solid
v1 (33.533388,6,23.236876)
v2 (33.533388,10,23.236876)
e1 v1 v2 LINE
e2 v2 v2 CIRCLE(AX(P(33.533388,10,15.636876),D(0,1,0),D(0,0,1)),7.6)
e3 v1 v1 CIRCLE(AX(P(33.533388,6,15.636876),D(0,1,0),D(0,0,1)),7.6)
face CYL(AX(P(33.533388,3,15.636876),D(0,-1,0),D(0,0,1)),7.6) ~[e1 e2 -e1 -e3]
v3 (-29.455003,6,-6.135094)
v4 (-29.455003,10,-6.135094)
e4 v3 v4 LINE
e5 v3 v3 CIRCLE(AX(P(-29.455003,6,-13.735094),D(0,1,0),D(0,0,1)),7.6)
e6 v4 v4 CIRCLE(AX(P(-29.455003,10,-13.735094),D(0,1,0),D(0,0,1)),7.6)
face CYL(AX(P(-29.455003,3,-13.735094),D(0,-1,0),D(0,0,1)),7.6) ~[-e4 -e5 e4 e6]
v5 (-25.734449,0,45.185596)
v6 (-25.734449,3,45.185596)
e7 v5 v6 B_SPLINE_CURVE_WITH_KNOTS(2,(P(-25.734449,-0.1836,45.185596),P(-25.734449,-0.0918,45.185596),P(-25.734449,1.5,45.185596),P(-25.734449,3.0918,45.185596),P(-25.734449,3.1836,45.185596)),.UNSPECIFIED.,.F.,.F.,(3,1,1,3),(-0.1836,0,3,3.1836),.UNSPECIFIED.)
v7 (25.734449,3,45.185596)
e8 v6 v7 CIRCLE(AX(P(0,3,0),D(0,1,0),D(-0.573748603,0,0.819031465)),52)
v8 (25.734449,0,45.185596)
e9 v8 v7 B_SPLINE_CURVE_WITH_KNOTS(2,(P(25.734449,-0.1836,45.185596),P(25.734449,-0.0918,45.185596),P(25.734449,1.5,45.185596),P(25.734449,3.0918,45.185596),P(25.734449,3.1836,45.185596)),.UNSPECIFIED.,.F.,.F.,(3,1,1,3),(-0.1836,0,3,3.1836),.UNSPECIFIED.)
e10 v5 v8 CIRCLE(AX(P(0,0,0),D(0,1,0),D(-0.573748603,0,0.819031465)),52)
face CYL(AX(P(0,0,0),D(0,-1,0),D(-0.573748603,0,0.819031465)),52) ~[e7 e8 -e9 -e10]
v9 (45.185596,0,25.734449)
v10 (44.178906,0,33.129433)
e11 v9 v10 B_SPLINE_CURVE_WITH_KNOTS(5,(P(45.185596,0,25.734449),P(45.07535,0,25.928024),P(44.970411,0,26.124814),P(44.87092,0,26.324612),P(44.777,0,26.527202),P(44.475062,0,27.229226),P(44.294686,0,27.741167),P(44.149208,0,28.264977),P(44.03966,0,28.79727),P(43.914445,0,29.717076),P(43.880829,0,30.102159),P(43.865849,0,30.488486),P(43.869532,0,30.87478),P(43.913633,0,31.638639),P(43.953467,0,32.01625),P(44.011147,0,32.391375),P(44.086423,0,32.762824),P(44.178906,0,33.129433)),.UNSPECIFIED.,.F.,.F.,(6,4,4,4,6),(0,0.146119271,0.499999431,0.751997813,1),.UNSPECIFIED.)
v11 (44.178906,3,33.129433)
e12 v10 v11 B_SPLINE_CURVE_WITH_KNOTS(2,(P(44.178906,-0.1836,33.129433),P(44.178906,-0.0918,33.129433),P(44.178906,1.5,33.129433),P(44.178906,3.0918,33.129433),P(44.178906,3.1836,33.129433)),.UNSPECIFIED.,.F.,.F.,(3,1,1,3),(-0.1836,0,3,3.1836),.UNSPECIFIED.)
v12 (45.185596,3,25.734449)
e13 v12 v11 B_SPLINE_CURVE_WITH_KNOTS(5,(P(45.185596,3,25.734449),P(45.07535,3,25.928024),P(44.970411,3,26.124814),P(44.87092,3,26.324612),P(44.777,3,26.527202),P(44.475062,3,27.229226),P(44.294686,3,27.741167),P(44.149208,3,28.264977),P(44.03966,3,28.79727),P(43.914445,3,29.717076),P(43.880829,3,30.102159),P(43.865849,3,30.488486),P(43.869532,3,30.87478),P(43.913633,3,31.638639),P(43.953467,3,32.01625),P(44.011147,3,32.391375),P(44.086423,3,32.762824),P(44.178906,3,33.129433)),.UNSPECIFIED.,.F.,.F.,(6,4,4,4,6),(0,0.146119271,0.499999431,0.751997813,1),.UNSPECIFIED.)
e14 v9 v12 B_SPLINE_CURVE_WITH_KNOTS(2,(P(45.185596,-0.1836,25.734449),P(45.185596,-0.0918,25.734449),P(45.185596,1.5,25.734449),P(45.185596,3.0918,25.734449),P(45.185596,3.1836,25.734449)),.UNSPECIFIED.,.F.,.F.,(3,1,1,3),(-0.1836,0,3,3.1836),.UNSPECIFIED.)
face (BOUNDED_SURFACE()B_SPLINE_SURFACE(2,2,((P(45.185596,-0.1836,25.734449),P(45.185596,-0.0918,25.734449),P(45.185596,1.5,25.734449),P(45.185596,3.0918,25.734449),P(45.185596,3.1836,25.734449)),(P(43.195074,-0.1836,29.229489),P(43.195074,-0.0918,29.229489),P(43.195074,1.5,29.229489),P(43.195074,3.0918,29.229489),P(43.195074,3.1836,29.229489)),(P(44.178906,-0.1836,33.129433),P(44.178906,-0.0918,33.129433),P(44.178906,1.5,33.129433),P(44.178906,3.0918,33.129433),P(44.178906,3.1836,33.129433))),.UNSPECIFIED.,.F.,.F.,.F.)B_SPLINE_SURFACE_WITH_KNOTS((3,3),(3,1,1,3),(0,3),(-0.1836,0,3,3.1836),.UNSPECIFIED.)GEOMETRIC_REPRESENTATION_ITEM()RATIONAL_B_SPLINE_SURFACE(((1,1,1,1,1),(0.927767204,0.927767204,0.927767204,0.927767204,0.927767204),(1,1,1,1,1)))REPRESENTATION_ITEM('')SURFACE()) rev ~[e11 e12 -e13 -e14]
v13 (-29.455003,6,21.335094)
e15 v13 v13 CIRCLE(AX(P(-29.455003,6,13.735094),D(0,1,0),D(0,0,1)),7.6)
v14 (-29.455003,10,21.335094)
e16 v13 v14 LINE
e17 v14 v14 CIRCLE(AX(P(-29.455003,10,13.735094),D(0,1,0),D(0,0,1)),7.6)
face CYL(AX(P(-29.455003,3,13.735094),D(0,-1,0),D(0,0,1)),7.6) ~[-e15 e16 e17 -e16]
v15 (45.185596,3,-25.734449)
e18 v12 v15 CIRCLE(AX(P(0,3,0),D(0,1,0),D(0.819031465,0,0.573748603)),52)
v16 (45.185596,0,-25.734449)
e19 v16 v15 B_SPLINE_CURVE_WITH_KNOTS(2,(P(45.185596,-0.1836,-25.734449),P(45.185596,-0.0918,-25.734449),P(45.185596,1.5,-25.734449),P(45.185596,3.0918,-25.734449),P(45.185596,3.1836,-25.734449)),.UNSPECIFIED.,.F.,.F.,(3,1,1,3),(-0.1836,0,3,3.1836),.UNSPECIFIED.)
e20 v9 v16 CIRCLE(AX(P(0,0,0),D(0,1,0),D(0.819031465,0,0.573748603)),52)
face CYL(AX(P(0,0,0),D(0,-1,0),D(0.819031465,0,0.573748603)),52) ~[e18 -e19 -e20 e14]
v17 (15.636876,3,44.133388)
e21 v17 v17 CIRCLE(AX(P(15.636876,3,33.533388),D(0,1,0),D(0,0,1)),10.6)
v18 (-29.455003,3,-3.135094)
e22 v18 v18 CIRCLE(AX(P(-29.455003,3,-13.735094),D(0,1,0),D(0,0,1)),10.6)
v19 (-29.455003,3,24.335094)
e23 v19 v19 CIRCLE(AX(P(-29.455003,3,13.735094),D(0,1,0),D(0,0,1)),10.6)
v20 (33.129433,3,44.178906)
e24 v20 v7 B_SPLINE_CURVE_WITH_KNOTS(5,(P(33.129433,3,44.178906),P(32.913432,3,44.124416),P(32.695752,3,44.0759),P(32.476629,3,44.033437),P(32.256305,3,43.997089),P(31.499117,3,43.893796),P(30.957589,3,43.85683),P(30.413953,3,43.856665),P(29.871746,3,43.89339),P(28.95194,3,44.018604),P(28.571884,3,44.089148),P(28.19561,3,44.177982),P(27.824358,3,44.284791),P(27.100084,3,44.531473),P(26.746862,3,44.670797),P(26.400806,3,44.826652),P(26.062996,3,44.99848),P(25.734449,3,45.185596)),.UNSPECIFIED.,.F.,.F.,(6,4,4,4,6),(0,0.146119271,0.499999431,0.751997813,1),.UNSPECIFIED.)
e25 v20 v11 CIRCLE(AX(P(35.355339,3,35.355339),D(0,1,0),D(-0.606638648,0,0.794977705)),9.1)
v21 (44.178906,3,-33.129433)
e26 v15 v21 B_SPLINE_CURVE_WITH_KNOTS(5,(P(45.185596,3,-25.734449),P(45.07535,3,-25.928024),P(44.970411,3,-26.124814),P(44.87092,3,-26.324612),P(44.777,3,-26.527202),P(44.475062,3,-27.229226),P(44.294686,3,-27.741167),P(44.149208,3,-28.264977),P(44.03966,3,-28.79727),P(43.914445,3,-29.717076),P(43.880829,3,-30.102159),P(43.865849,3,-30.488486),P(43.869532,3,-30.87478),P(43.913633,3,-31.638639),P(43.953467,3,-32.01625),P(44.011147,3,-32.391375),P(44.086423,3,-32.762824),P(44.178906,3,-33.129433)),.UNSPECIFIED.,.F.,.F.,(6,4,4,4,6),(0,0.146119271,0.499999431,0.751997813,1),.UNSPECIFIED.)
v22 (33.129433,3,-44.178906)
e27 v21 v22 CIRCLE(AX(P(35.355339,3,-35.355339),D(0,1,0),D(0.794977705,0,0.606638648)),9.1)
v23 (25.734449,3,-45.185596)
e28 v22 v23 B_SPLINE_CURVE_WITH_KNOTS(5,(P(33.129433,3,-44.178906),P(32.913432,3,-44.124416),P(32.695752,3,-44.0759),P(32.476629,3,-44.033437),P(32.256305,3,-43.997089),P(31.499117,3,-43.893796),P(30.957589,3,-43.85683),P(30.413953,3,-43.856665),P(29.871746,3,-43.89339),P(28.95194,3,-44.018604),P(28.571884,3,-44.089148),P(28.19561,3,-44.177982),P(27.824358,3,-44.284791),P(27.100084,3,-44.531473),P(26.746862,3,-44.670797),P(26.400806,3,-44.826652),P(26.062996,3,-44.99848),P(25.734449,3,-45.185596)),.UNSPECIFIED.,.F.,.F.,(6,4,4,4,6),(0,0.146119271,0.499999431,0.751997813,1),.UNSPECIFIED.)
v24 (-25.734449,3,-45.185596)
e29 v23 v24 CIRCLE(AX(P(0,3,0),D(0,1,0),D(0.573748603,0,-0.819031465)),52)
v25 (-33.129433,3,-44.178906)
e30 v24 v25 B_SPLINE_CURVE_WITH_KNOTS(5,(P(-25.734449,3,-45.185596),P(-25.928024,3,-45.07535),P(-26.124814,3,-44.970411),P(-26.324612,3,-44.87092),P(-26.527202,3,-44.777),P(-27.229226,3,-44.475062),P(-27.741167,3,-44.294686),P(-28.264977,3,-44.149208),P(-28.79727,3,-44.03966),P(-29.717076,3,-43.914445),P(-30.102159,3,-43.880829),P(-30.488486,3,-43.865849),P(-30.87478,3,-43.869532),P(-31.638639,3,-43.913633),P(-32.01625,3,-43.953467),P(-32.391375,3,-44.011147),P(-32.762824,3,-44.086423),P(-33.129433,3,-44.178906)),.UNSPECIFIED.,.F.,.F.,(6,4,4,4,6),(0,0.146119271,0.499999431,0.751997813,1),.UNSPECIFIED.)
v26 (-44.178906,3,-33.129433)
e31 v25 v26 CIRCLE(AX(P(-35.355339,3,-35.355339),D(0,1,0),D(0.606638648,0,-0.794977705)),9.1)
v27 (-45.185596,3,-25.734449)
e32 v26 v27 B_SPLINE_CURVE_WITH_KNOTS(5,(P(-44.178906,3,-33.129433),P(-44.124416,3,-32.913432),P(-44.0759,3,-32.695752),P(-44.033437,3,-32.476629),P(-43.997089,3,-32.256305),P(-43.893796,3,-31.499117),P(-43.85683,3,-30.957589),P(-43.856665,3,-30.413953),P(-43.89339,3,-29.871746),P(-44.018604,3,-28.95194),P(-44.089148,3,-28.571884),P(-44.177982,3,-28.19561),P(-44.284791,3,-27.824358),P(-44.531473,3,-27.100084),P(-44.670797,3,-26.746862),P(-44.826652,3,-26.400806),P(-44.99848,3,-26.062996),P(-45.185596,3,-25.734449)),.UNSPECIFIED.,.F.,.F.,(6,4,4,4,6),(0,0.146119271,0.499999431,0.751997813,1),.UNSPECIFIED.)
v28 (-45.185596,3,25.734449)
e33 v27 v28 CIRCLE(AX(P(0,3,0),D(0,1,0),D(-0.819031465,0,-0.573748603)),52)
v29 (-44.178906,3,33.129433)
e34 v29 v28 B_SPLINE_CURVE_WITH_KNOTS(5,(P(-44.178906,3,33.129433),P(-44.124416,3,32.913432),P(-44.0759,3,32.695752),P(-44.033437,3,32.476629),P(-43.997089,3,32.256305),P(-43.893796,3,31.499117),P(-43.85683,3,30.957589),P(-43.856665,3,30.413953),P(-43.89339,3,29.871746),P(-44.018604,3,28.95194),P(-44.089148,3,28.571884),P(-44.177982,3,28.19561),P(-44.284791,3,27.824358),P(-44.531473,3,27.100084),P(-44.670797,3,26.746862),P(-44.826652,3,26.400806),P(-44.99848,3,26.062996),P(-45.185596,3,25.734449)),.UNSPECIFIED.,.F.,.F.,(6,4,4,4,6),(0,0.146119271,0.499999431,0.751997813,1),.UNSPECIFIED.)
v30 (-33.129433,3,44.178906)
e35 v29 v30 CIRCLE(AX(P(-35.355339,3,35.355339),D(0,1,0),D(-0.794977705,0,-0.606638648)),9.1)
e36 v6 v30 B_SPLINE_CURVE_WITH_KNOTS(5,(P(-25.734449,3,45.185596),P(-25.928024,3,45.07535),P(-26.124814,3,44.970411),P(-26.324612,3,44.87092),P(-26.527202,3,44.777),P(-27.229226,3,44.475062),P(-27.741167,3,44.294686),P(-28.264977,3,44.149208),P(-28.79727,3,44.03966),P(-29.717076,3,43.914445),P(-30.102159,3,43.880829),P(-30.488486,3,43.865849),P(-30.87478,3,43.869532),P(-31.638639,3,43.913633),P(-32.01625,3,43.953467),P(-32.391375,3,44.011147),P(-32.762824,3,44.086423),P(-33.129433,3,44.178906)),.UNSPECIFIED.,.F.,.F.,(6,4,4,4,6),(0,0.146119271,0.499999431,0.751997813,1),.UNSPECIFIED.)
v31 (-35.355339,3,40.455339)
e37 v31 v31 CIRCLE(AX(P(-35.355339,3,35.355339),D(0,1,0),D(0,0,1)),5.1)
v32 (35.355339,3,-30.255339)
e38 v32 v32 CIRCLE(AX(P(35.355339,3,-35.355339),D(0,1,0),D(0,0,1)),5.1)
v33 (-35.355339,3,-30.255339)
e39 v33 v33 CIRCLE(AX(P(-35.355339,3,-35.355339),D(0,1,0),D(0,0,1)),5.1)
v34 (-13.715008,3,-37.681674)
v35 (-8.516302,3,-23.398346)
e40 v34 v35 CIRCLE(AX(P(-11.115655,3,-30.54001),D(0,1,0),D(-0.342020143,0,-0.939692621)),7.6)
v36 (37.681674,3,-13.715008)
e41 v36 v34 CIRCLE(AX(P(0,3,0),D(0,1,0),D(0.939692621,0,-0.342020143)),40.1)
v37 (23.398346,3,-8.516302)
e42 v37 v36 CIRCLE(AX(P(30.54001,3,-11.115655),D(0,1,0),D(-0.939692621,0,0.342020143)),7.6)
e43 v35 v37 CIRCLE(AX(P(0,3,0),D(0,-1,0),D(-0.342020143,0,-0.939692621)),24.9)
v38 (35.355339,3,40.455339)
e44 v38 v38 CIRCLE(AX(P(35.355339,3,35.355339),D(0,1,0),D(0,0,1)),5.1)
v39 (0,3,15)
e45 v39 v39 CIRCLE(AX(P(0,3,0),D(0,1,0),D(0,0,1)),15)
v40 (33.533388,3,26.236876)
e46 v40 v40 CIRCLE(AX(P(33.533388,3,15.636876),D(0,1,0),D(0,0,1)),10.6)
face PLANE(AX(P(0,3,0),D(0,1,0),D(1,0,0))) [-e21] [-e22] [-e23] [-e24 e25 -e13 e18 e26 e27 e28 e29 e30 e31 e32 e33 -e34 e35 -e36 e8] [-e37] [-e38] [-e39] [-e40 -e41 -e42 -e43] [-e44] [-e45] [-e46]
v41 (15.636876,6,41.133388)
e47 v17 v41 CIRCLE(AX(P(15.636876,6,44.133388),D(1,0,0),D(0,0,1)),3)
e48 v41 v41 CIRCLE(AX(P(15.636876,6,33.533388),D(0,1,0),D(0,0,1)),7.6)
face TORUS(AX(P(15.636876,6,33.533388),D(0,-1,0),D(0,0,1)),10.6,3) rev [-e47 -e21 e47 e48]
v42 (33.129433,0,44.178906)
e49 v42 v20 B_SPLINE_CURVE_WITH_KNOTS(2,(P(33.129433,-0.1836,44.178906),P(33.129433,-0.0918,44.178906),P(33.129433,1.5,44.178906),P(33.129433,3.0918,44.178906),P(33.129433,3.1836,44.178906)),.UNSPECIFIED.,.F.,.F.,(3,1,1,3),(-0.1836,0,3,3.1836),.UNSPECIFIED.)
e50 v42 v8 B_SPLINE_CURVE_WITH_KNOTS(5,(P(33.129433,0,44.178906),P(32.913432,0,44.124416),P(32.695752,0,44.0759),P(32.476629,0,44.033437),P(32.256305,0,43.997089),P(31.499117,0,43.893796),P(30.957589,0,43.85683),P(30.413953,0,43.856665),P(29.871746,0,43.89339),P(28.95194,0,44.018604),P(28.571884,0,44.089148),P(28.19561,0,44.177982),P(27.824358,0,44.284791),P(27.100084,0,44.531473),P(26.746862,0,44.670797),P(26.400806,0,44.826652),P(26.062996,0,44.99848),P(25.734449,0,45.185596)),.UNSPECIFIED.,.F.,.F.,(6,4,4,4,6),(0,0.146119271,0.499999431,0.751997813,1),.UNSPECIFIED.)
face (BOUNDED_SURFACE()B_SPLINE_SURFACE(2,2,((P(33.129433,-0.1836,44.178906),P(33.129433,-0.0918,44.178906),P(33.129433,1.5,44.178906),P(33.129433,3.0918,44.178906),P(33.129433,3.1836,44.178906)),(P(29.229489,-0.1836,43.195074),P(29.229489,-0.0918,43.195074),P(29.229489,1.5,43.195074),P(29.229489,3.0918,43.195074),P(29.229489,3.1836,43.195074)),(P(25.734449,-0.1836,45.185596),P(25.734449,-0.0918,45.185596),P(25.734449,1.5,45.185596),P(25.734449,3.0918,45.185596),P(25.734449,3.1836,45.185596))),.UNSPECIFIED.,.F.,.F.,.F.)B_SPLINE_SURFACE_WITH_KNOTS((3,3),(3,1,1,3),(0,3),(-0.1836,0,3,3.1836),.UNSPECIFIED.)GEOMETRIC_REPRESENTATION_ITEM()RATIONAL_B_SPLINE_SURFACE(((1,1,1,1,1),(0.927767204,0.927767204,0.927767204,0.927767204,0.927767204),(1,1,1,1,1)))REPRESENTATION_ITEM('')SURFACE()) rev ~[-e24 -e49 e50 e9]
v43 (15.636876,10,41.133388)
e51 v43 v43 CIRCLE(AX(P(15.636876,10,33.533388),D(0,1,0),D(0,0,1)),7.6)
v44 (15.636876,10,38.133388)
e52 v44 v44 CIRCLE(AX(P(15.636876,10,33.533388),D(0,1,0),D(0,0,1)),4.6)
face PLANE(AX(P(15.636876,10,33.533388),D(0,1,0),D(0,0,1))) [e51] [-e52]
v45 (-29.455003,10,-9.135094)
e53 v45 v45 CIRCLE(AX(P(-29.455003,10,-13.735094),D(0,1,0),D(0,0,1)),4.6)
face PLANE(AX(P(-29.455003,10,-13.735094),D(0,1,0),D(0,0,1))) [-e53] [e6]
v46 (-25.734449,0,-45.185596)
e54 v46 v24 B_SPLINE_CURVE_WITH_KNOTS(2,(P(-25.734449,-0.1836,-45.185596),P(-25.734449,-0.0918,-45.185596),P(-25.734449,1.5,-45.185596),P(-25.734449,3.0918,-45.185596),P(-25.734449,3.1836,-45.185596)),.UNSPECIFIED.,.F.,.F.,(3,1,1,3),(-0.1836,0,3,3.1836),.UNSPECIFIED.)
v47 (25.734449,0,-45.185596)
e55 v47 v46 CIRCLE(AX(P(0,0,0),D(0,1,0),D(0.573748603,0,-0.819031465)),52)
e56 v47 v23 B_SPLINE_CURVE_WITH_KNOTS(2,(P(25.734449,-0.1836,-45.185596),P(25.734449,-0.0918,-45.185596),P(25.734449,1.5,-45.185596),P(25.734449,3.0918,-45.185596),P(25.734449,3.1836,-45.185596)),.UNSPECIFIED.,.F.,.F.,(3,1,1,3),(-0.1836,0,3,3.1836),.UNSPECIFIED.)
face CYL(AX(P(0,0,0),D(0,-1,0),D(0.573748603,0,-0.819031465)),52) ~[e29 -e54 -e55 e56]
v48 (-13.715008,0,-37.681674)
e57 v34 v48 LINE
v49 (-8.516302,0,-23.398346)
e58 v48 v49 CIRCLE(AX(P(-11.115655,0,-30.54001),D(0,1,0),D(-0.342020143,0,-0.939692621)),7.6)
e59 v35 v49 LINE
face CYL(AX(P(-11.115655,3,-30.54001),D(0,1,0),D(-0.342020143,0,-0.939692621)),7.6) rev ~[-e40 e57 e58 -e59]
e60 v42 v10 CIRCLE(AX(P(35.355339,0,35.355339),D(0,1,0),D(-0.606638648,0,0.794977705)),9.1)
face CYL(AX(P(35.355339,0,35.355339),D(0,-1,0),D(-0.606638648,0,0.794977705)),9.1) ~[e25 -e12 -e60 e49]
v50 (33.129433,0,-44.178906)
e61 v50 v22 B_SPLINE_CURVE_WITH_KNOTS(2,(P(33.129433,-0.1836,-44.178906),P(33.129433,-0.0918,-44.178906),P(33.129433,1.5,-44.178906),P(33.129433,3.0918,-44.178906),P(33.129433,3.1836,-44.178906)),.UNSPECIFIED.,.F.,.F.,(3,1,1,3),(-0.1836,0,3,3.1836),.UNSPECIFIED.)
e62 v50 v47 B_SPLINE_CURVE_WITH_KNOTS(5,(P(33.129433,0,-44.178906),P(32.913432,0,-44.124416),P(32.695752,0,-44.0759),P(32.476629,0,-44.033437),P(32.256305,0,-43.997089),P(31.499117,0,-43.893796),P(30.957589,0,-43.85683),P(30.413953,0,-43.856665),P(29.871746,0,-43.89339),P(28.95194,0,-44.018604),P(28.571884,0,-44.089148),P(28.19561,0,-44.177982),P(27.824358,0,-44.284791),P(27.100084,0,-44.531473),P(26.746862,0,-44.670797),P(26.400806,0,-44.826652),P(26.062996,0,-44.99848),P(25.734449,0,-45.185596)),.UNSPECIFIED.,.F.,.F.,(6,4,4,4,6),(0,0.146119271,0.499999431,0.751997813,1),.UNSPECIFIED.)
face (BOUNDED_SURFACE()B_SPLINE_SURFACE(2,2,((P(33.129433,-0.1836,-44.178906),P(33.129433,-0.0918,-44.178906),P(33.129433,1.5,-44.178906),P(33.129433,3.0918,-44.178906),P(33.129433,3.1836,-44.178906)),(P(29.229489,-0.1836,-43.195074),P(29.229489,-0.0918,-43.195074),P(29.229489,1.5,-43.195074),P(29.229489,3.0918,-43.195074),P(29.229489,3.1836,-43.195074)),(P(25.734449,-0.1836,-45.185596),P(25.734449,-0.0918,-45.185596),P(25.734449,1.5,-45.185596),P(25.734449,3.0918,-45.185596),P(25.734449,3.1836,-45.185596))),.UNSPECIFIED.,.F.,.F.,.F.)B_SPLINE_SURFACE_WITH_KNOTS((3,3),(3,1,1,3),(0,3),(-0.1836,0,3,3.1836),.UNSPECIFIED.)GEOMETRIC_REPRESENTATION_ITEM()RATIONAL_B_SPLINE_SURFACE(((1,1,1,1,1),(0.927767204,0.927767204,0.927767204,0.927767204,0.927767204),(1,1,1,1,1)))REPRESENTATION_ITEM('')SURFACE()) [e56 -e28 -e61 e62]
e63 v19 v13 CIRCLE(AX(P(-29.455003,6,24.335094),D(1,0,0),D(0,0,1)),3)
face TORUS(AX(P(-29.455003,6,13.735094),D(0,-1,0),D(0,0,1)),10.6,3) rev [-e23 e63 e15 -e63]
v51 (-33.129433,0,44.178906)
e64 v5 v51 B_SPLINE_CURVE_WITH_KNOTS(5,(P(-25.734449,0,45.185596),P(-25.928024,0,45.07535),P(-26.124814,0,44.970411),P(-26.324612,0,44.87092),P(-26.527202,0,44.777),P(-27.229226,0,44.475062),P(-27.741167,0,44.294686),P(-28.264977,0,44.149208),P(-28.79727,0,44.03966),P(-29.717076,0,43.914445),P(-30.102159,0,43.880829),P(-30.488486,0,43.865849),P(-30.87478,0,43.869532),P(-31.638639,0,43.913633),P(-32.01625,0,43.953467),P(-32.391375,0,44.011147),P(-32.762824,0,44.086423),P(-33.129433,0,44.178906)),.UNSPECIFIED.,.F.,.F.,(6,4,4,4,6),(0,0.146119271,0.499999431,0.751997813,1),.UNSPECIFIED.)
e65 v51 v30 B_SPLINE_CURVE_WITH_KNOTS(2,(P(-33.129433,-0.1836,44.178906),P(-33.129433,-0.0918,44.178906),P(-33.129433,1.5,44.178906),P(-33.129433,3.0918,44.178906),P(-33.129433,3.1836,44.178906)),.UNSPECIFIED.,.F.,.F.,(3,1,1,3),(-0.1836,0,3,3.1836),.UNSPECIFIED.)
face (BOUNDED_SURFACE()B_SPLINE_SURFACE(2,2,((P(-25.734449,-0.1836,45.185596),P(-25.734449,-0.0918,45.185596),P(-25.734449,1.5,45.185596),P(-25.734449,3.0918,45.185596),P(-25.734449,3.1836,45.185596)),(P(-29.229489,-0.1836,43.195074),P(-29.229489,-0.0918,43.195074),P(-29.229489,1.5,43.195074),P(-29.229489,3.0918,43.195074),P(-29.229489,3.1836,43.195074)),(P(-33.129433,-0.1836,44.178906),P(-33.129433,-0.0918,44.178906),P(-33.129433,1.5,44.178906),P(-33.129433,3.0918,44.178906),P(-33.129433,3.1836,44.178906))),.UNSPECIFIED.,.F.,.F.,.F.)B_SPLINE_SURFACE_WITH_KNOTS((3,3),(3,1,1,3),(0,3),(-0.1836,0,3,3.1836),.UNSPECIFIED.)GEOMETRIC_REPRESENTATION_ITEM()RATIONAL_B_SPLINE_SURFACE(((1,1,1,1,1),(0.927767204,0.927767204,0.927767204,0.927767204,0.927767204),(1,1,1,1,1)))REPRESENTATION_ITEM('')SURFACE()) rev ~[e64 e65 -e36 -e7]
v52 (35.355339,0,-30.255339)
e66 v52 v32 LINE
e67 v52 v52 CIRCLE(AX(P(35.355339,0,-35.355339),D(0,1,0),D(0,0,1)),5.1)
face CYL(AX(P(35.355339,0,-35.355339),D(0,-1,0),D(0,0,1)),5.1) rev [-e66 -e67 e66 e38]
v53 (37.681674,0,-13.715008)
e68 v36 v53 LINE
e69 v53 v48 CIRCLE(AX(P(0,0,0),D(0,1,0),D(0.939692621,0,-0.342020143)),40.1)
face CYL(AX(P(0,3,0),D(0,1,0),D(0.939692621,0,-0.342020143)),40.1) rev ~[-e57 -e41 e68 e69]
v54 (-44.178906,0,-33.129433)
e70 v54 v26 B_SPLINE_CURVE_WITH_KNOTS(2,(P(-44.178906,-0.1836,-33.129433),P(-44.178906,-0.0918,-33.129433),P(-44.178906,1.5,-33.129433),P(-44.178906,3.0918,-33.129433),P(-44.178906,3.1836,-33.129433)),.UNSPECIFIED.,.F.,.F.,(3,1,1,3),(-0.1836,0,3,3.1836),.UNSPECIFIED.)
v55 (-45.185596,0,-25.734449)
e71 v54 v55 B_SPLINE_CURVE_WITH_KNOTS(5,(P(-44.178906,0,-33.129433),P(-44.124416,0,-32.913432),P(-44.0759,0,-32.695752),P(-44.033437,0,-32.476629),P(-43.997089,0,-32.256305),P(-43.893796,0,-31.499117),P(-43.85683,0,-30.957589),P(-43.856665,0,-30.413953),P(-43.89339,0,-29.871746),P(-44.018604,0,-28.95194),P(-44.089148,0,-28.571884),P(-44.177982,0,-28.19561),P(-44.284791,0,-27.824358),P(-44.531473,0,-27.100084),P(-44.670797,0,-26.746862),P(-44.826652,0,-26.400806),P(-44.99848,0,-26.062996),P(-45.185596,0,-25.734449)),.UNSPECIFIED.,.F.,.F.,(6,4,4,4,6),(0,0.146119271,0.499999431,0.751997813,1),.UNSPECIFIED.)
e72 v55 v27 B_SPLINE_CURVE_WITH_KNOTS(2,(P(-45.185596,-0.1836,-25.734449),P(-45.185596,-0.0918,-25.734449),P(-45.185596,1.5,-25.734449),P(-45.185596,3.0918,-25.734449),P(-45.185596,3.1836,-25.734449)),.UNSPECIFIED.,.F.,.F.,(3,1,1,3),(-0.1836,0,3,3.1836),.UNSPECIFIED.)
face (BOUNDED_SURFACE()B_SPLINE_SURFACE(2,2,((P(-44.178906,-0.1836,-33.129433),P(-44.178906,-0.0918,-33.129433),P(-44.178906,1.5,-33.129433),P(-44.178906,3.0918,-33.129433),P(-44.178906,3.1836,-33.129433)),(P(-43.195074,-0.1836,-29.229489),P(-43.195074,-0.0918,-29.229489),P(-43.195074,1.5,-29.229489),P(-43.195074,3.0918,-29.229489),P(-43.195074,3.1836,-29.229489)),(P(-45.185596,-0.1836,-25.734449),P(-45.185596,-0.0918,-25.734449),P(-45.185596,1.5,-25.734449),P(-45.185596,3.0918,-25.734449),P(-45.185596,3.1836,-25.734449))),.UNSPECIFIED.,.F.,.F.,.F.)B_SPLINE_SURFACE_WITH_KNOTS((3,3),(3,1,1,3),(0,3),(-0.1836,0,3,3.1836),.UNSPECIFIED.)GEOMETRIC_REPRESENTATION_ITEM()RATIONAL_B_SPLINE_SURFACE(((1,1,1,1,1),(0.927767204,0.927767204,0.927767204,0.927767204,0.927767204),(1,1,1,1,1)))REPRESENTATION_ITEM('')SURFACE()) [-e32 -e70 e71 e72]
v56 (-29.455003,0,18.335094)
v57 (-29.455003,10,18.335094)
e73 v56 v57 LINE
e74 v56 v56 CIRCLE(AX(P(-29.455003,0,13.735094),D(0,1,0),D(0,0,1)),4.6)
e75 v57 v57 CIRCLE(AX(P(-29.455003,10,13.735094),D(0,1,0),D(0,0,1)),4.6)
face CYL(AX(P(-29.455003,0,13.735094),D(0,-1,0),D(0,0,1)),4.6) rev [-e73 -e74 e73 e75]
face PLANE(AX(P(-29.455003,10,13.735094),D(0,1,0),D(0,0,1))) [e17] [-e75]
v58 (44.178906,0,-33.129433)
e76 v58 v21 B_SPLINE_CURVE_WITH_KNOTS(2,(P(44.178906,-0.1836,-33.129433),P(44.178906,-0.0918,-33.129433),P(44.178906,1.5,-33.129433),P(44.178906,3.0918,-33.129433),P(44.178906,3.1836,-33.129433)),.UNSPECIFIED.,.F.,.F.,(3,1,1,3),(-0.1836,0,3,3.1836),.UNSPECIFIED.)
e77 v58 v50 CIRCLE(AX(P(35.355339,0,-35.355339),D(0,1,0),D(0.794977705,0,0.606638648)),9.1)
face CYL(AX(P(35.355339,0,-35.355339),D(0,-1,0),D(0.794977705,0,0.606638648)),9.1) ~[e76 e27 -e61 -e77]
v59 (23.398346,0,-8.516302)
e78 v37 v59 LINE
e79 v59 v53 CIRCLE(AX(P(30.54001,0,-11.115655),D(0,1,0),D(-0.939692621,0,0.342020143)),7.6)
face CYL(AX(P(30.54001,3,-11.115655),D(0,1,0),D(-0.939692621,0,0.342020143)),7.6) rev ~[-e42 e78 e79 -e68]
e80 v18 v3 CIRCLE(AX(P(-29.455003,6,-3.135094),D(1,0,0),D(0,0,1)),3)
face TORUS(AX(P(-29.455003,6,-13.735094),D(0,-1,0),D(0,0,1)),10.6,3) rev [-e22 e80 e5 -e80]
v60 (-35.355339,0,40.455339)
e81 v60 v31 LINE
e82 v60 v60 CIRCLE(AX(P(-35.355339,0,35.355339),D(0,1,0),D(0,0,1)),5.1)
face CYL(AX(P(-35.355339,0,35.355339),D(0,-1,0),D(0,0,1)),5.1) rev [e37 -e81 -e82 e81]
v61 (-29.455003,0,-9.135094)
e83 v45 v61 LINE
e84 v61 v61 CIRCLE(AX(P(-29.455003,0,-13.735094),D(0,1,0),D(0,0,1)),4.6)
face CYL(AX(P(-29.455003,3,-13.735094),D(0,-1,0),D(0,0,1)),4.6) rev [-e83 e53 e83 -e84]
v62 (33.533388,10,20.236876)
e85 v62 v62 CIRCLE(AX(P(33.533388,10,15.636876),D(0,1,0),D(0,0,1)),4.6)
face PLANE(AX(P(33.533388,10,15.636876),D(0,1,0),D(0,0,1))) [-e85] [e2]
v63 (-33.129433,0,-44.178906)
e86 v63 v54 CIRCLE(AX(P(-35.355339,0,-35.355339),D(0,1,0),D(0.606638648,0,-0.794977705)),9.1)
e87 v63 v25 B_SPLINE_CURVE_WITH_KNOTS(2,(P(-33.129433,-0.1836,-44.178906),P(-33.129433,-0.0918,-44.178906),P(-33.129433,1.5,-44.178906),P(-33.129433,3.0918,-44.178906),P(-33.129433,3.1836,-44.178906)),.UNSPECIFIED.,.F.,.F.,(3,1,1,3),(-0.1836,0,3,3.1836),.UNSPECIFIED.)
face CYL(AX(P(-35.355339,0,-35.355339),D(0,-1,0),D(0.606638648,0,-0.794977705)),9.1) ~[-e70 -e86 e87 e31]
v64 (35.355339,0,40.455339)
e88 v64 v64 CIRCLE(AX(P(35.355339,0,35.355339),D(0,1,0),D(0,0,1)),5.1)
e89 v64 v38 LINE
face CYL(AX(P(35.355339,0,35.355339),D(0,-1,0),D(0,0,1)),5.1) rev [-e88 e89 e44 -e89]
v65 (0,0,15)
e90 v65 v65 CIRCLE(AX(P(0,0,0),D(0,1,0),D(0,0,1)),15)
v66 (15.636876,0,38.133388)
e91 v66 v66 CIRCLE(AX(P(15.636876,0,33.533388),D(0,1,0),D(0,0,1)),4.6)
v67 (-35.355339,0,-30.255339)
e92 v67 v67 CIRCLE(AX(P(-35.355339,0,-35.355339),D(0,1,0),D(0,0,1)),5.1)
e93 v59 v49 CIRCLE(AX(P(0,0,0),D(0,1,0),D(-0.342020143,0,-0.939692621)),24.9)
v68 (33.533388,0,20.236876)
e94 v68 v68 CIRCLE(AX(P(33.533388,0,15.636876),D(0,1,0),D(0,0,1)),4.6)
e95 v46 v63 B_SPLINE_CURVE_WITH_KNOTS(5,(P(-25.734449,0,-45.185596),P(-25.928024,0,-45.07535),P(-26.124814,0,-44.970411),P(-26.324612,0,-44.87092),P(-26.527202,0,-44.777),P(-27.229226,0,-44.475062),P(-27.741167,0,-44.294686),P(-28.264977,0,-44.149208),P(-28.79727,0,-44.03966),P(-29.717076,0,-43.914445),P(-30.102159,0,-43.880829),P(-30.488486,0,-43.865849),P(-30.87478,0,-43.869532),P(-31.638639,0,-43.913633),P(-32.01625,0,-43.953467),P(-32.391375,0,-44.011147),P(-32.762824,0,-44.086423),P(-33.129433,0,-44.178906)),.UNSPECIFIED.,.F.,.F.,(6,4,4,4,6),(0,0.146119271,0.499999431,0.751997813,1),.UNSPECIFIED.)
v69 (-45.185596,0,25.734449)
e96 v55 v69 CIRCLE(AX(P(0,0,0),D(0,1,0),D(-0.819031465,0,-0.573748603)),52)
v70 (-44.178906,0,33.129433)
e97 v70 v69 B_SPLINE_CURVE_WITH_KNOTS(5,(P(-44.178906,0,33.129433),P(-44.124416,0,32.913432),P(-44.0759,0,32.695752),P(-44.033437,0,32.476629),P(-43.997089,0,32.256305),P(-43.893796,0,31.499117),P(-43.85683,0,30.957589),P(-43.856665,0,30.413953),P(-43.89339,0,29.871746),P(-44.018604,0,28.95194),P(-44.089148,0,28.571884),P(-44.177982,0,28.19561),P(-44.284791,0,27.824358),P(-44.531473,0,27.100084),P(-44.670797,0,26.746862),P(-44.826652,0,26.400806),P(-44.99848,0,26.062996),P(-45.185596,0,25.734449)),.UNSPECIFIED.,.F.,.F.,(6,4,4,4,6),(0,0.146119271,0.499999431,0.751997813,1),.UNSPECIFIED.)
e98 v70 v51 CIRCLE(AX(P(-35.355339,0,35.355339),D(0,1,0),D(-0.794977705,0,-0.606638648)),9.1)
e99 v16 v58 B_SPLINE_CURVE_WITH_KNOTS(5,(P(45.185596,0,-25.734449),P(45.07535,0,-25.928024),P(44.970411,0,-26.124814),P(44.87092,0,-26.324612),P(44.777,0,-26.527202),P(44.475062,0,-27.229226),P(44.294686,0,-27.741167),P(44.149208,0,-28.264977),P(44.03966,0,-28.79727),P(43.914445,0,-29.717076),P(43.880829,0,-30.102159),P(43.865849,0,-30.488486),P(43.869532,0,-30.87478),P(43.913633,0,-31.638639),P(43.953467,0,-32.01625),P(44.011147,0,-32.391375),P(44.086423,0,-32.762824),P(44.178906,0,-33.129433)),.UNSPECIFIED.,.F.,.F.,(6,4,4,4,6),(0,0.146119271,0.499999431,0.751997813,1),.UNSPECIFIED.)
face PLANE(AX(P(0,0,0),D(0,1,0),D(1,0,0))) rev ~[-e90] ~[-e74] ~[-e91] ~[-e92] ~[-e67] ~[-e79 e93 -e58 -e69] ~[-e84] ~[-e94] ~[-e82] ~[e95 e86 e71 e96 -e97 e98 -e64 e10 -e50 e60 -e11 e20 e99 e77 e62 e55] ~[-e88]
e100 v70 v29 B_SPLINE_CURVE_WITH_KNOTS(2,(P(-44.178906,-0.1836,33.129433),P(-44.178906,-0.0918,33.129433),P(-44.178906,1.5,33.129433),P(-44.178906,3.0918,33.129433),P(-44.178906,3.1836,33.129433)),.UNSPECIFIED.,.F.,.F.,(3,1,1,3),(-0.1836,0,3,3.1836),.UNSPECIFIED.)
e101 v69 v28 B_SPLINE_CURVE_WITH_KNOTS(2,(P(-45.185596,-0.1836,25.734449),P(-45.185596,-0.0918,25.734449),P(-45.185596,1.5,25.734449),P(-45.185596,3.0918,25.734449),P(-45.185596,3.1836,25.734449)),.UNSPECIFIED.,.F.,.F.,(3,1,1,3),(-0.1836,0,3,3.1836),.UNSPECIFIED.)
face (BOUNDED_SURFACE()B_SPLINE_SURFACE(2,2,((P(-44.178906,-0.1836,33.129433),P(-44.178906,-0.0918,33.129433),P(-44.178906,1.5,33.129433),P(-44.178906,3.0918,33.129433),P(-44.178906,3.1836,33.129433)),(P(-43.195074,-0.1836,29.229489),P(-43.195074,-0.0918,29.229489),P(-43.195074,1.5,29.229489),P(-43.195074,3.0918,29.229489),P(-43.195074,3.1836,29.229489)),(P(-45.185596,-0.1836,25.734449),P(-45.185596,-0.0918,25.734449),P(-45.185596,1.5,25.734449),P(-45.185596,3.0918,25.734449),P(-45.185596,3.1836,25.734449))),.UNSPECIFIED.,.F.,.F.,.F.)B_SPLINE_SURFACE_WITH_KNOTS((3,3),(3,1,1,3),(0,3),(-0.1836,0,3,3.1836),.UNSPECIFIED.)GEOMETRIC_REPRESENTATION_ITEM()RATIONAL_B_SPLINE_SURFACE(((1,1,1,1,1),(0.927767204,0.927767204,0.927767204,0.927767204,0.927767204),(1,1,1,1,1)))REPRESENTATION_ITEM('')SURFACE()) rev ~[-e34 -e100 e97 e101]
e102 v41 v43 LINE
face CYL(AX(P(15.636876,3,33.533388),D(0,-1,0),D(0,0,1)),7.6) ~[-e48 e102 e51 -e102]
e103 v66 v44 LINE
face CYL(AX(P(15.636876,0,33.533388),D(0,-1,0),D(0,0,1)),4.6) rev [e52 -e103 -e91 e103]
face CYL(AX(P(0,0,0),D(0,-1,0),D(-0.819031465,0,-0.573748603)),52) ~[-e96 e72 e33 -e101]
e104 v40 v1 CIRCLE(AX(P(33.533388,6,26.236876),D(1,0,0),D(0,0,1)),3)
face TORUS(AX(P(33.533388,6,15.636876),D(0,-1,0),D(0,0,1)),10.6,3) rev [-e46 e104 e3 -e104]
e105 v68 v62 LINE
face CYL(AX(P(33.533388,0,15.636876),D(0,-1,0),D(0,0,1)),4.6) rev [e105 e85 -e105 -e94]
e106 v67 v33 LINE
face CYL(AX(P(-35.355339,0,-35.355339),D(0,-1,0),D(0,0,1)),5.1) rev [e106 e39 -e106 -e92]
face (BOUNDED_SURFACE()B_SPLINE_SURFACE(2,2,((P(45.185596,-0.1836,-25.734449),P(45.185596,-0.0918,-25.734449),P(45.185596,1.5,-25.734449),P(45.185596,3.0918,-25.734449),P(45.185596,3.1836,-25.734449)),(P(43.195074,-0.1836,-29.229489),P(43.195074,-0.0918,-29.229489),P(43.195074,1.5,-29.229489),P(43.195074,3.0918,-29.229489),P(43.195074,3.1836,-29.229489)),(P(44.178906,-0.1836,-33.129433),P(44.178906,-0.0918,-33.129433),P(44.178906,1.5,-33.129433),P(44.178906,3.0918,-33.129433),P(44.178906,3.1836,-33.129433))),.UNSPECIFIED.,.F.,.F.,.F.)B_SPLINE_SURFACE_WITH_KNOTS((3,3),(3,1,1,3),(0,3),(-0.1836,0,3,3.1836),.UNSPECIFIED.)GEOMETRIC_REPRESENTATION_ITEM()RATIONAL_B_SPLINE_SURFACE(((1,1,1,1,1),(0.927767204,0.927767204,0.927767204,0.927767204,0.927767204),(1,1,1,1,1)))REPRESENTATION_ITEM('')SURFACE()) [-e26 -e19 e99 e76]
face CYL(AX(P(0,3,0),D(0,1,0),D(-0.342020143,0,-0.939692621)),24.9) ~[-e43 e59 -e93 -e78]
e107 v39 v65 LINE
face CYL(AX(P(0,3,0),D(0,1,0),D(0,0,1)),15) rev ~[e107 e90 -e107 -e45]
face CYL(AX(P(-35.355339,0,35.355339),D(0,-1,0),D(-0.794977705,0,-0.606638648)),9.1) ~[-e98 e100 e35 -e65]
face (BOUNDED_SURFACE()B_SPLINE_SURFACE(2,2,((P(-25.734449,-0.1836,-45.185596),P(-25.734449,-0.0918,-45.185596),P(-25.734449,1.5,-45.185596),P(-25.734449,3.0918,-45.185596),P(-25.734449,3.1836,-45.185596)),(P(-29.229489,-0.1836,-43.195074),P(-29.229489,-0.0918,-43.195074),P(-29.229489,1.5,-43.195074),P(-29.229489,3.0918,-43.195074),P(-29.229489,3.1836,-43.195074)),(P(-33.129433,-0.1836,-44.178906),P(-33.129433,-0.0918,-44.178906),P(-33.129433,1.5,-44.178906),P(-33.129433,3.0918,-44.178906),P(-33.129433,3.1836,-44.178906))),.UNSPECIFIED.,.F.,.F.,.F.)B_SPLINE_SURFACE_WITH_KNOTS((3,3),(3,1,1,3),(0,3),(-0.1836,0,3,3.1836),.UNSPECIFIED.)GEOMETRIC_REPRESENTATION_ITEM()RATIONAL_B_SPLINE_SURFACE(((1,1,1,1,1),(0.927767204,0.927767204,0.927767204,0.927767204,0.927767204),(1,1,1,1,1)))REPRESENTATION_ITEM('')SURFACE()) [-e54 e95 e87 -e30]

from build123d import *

# Parameters (mm, degrees)
SKETCH1_R           = 5.1
SKETCH1_R_2         = 4.6
BOSS_EXTRUDE1_DEPTH = 3
SKETCH2_R           = 7.6
SKETCH2_R_2         = 4.6
BOSS_EXTRUDE2_DEPTH = 7
FILLET1_R           = 10
FILLET2_R           = 3
SKETCH3_R           = 15
CUT_EXTRUDE1_DEPTH  = 7
CUT_EXTRUDE2_DEPTH  = 7


with BuildPart() as part:
    # Sketch1 → Boss-Extrude1 (new body)
    with BuildSketch(Plane(origin=(0, 0, 0), x_dir=(1, 0, 0), z_dir=(0, 1, 0))):
        with BuildLine():
            ThreePointArc((-42.589636172, 29.834927363), (-52, 0), (-42.589636172, -29.834927363))
            ThreePointArc((-42.589636172, -29.834927363), (-41.790010768, -41.790010768), (-29.834927363, -42.589636172))
            ThreePointArc((-29.834927363, -42.589636172), (0, -52), (29.834927363, -42.589636172))
            ThreePointArc((29.834927363, -42.589636172), (41.790010768, -41.790010768), (42.589636172, -29.834927363))
            ThreePointArc((42.589636172, -29.834927363), (52, 0), (42.589636172, 29.834927363))
            ThreePointArc((42.589636172, 29.834927363), (41.790010768, 41.790010768), (29.834927363, 42.589636172))
            ThreePointArc((29.834927363, 42.589636172), (0, 52), (-29.834927363, 42.589636172))
            ThreePointArc((-29.834927363, 42.589636172), (-41.790010768, 41.790010768), (-42.589636172, 29.834927363))
        make_face()
        with Locations(Location((-35.355339059, -35.355339059, 0), (0, 0, 270))):
            Circle(SKETCH1_R, mode=Mode.SUBTRACT)
        with Locations(Location((-29.455003079, -13.735093507, 0), (0, 0, 270))):
            Circle(SKETCH1_R_2, mode=Mode.SUBTRACT)
        with Locations(Location((15.636875684, -33.53338812, 0), (0, 0, 270))):
            Circle(SKETCH1_R_2, mode=Mode.SUBTRACT)
        with Locations(Location((35.355339059, -35.355339059, 0), (0, 0, 270))):
            Circle(SKETCH1_R, mode=Mode.SUBTRACT)
        with Locations(Location((33.53338812, -15.636875684, 0), (0, 0, 270))):
            Circle(SKETCH1_R_2, mode=Mode.SUBTRACT)
        with Locations(Location((-29.455003079, 13.735093507, 0), (0, 0, 270))):
            Circle(SKETCH1_R_2, mode=Mode.SUBTRACT)
        with Locations(Location((-35.355339059, 35.355339059, 0), (0, 0, 270))):
            Circle(SKETCH1_R, mode=Mode.SUBTRACT)
        with Locations(Location((35.355339059, 35.355339059, 0), (0, 0, 270))):
            Circle(SKETCH1_R, mode=Mode.SUBTRACT)
    extrude(amount=BOSS_EXTRUDE1_DEPTH)

    # Sketch2 → Boss-Extrude2 (add)
    # profile 1 of 4: a face of its own
    with BuildSketch(Plane(origin=(0, 3, 0), x_dir=(1, 0, 0), z_dir=(0, 1, 0))):
        with Locations(Location((-29.455003079, 13.735093507, 0), (0, 0, 270))):
            Circle(SKETCH2_R)
        with Locations(Location((-29.455003079, 13.735093507, 0), (0, 0, 270))):
            Circle(SKETCH2_R_2, mode=Mode.SUBTRACT)
    # profile 2 of 4: a face of its own
    with BuildSketch(Plane(origin=(0, 3, 0), x_dir=(1, 0, 0), z_dir=(0, 1, 0))):
        with Locations(Location((-29.455003079, -13.735093507, 0), (0, 0, 270))):
            Circle(SKETCH2_R)
        with Locations(Location((-29.455003079, -13.735093507, 0), (0, 0, 270))):
            Circle(SKETCH2_R_2, mode=Mode.SUBTRACT)
    # profile 3 of 4: a face of its own
    with BuildSketch(Plane(origin=(0, 3, 0), x_dir=(1, 0, 0), z_dir=(0, 1, 0))):
        with Locations(Location((15.636875684, -33.53338812, 0), (0, 0, 270))):
            Circle(SKETCH2_R)
        with Locations(Location((15.636875684, -33.53338812, 0), (0, 0, 270))):
            Circle(SKETCH2_R_2, mode=Mode.SUBTRACT)
    # profile 4 of 4: a face of its own
    with BuildSketch(Plane(origin=(0, 3, 0), x_dir=(1, 0, 0), z_dir=(0, 1, 0))):
        with Locations(Location((33.53338812, -15.636875684, 0), (0, 0, 270))):
            Circle(SKETCH2_R)
        with Locations(Location((33.53338812, -15.636875684, 0), (0, 0, 270))):
            Circle(SKETCH2_R_2, mode=Mode.SUBTRACT)
    extrude(amount=BOSS_EXTRUDE2_DEPTH)

    # Fillet1
    fillet1_edges = [part.edges().sort_by_distance(p)[0] for p in [
        (-42.589636172, 1.5, 29.834927363),
        (-42.589636172, 1.5, -29.834927363),
        (-29.834927363, 1.5, -42.589636172),
        (29.834927363, 1.5, -42.589636172),
        (42.589636172, 1.5, -29.834927363),
        (42.589636172, 1.5, 29.834927363),
        (29.834927363, 1.5, 42.589636172),
        (-29.834927363, 1.5, 42.589636172),
    ]]
    fillet(fillet1_edges, radius=FILLET1_R)

    # Fillet2
    fillet2_edges = [part.edges().sort_by_distance(p)[0] for p in [
        (-29.455003079, 3, -21.335093507),
        (-29.455003079, 3, 6.135093507),
        (15.636875684, 3, 25.93338812),
        (33.53338812, 3, 8.036875684),
    ]]
    fillet(fillet2_edges, radius=FILLET2_R)

    # Sketch3 → Cut-Extrude1 (cut)
    with BuildSketch(Plane(origin=(0, 3, 0), x_dir=(1, 0, 0), z_dir=(0, 1, 0))):
        with Locations(Location((0, 0, 0), (0, 0, 270))):
            Circle(SKETCH3_R)
    extrude(amount=-CUT_EXTRUDE1_DEPTH, mode=Mode.SUBTRACT)

    # Sketch4 → Cut-Extrude2 (cut)
    with BuildSketch(Plane(origin=(0, 3, 0), x_dir=(1, 0, 0), z_dir=(0, 1, 0))):
        with BuildLine():
            ThreePointArc((37.681674094, 13.715007747), (16.946992296, 36.34294226), (-13.715007747, 37.681674094))
            ThreePointArc((-13.715007747, 37.681674094), (-18.257318576, 27.940657086), (-8.516301569, 23.398346258))
            ThreePointArc((-8.516301569, 23.398346258), (10.523194717, 22.567063897), (23.398346258, 8.516301569))
            ThreePointArc((23.398346258, 8.516301569), (33.139363265, 3.97399074), (37.681674094, 13.715007747))
        make_face()
    extrude(amount=-CUT_EXTRUDE2_DEPTH, mode=Mode.SUBTRACT)


solid = part.part
